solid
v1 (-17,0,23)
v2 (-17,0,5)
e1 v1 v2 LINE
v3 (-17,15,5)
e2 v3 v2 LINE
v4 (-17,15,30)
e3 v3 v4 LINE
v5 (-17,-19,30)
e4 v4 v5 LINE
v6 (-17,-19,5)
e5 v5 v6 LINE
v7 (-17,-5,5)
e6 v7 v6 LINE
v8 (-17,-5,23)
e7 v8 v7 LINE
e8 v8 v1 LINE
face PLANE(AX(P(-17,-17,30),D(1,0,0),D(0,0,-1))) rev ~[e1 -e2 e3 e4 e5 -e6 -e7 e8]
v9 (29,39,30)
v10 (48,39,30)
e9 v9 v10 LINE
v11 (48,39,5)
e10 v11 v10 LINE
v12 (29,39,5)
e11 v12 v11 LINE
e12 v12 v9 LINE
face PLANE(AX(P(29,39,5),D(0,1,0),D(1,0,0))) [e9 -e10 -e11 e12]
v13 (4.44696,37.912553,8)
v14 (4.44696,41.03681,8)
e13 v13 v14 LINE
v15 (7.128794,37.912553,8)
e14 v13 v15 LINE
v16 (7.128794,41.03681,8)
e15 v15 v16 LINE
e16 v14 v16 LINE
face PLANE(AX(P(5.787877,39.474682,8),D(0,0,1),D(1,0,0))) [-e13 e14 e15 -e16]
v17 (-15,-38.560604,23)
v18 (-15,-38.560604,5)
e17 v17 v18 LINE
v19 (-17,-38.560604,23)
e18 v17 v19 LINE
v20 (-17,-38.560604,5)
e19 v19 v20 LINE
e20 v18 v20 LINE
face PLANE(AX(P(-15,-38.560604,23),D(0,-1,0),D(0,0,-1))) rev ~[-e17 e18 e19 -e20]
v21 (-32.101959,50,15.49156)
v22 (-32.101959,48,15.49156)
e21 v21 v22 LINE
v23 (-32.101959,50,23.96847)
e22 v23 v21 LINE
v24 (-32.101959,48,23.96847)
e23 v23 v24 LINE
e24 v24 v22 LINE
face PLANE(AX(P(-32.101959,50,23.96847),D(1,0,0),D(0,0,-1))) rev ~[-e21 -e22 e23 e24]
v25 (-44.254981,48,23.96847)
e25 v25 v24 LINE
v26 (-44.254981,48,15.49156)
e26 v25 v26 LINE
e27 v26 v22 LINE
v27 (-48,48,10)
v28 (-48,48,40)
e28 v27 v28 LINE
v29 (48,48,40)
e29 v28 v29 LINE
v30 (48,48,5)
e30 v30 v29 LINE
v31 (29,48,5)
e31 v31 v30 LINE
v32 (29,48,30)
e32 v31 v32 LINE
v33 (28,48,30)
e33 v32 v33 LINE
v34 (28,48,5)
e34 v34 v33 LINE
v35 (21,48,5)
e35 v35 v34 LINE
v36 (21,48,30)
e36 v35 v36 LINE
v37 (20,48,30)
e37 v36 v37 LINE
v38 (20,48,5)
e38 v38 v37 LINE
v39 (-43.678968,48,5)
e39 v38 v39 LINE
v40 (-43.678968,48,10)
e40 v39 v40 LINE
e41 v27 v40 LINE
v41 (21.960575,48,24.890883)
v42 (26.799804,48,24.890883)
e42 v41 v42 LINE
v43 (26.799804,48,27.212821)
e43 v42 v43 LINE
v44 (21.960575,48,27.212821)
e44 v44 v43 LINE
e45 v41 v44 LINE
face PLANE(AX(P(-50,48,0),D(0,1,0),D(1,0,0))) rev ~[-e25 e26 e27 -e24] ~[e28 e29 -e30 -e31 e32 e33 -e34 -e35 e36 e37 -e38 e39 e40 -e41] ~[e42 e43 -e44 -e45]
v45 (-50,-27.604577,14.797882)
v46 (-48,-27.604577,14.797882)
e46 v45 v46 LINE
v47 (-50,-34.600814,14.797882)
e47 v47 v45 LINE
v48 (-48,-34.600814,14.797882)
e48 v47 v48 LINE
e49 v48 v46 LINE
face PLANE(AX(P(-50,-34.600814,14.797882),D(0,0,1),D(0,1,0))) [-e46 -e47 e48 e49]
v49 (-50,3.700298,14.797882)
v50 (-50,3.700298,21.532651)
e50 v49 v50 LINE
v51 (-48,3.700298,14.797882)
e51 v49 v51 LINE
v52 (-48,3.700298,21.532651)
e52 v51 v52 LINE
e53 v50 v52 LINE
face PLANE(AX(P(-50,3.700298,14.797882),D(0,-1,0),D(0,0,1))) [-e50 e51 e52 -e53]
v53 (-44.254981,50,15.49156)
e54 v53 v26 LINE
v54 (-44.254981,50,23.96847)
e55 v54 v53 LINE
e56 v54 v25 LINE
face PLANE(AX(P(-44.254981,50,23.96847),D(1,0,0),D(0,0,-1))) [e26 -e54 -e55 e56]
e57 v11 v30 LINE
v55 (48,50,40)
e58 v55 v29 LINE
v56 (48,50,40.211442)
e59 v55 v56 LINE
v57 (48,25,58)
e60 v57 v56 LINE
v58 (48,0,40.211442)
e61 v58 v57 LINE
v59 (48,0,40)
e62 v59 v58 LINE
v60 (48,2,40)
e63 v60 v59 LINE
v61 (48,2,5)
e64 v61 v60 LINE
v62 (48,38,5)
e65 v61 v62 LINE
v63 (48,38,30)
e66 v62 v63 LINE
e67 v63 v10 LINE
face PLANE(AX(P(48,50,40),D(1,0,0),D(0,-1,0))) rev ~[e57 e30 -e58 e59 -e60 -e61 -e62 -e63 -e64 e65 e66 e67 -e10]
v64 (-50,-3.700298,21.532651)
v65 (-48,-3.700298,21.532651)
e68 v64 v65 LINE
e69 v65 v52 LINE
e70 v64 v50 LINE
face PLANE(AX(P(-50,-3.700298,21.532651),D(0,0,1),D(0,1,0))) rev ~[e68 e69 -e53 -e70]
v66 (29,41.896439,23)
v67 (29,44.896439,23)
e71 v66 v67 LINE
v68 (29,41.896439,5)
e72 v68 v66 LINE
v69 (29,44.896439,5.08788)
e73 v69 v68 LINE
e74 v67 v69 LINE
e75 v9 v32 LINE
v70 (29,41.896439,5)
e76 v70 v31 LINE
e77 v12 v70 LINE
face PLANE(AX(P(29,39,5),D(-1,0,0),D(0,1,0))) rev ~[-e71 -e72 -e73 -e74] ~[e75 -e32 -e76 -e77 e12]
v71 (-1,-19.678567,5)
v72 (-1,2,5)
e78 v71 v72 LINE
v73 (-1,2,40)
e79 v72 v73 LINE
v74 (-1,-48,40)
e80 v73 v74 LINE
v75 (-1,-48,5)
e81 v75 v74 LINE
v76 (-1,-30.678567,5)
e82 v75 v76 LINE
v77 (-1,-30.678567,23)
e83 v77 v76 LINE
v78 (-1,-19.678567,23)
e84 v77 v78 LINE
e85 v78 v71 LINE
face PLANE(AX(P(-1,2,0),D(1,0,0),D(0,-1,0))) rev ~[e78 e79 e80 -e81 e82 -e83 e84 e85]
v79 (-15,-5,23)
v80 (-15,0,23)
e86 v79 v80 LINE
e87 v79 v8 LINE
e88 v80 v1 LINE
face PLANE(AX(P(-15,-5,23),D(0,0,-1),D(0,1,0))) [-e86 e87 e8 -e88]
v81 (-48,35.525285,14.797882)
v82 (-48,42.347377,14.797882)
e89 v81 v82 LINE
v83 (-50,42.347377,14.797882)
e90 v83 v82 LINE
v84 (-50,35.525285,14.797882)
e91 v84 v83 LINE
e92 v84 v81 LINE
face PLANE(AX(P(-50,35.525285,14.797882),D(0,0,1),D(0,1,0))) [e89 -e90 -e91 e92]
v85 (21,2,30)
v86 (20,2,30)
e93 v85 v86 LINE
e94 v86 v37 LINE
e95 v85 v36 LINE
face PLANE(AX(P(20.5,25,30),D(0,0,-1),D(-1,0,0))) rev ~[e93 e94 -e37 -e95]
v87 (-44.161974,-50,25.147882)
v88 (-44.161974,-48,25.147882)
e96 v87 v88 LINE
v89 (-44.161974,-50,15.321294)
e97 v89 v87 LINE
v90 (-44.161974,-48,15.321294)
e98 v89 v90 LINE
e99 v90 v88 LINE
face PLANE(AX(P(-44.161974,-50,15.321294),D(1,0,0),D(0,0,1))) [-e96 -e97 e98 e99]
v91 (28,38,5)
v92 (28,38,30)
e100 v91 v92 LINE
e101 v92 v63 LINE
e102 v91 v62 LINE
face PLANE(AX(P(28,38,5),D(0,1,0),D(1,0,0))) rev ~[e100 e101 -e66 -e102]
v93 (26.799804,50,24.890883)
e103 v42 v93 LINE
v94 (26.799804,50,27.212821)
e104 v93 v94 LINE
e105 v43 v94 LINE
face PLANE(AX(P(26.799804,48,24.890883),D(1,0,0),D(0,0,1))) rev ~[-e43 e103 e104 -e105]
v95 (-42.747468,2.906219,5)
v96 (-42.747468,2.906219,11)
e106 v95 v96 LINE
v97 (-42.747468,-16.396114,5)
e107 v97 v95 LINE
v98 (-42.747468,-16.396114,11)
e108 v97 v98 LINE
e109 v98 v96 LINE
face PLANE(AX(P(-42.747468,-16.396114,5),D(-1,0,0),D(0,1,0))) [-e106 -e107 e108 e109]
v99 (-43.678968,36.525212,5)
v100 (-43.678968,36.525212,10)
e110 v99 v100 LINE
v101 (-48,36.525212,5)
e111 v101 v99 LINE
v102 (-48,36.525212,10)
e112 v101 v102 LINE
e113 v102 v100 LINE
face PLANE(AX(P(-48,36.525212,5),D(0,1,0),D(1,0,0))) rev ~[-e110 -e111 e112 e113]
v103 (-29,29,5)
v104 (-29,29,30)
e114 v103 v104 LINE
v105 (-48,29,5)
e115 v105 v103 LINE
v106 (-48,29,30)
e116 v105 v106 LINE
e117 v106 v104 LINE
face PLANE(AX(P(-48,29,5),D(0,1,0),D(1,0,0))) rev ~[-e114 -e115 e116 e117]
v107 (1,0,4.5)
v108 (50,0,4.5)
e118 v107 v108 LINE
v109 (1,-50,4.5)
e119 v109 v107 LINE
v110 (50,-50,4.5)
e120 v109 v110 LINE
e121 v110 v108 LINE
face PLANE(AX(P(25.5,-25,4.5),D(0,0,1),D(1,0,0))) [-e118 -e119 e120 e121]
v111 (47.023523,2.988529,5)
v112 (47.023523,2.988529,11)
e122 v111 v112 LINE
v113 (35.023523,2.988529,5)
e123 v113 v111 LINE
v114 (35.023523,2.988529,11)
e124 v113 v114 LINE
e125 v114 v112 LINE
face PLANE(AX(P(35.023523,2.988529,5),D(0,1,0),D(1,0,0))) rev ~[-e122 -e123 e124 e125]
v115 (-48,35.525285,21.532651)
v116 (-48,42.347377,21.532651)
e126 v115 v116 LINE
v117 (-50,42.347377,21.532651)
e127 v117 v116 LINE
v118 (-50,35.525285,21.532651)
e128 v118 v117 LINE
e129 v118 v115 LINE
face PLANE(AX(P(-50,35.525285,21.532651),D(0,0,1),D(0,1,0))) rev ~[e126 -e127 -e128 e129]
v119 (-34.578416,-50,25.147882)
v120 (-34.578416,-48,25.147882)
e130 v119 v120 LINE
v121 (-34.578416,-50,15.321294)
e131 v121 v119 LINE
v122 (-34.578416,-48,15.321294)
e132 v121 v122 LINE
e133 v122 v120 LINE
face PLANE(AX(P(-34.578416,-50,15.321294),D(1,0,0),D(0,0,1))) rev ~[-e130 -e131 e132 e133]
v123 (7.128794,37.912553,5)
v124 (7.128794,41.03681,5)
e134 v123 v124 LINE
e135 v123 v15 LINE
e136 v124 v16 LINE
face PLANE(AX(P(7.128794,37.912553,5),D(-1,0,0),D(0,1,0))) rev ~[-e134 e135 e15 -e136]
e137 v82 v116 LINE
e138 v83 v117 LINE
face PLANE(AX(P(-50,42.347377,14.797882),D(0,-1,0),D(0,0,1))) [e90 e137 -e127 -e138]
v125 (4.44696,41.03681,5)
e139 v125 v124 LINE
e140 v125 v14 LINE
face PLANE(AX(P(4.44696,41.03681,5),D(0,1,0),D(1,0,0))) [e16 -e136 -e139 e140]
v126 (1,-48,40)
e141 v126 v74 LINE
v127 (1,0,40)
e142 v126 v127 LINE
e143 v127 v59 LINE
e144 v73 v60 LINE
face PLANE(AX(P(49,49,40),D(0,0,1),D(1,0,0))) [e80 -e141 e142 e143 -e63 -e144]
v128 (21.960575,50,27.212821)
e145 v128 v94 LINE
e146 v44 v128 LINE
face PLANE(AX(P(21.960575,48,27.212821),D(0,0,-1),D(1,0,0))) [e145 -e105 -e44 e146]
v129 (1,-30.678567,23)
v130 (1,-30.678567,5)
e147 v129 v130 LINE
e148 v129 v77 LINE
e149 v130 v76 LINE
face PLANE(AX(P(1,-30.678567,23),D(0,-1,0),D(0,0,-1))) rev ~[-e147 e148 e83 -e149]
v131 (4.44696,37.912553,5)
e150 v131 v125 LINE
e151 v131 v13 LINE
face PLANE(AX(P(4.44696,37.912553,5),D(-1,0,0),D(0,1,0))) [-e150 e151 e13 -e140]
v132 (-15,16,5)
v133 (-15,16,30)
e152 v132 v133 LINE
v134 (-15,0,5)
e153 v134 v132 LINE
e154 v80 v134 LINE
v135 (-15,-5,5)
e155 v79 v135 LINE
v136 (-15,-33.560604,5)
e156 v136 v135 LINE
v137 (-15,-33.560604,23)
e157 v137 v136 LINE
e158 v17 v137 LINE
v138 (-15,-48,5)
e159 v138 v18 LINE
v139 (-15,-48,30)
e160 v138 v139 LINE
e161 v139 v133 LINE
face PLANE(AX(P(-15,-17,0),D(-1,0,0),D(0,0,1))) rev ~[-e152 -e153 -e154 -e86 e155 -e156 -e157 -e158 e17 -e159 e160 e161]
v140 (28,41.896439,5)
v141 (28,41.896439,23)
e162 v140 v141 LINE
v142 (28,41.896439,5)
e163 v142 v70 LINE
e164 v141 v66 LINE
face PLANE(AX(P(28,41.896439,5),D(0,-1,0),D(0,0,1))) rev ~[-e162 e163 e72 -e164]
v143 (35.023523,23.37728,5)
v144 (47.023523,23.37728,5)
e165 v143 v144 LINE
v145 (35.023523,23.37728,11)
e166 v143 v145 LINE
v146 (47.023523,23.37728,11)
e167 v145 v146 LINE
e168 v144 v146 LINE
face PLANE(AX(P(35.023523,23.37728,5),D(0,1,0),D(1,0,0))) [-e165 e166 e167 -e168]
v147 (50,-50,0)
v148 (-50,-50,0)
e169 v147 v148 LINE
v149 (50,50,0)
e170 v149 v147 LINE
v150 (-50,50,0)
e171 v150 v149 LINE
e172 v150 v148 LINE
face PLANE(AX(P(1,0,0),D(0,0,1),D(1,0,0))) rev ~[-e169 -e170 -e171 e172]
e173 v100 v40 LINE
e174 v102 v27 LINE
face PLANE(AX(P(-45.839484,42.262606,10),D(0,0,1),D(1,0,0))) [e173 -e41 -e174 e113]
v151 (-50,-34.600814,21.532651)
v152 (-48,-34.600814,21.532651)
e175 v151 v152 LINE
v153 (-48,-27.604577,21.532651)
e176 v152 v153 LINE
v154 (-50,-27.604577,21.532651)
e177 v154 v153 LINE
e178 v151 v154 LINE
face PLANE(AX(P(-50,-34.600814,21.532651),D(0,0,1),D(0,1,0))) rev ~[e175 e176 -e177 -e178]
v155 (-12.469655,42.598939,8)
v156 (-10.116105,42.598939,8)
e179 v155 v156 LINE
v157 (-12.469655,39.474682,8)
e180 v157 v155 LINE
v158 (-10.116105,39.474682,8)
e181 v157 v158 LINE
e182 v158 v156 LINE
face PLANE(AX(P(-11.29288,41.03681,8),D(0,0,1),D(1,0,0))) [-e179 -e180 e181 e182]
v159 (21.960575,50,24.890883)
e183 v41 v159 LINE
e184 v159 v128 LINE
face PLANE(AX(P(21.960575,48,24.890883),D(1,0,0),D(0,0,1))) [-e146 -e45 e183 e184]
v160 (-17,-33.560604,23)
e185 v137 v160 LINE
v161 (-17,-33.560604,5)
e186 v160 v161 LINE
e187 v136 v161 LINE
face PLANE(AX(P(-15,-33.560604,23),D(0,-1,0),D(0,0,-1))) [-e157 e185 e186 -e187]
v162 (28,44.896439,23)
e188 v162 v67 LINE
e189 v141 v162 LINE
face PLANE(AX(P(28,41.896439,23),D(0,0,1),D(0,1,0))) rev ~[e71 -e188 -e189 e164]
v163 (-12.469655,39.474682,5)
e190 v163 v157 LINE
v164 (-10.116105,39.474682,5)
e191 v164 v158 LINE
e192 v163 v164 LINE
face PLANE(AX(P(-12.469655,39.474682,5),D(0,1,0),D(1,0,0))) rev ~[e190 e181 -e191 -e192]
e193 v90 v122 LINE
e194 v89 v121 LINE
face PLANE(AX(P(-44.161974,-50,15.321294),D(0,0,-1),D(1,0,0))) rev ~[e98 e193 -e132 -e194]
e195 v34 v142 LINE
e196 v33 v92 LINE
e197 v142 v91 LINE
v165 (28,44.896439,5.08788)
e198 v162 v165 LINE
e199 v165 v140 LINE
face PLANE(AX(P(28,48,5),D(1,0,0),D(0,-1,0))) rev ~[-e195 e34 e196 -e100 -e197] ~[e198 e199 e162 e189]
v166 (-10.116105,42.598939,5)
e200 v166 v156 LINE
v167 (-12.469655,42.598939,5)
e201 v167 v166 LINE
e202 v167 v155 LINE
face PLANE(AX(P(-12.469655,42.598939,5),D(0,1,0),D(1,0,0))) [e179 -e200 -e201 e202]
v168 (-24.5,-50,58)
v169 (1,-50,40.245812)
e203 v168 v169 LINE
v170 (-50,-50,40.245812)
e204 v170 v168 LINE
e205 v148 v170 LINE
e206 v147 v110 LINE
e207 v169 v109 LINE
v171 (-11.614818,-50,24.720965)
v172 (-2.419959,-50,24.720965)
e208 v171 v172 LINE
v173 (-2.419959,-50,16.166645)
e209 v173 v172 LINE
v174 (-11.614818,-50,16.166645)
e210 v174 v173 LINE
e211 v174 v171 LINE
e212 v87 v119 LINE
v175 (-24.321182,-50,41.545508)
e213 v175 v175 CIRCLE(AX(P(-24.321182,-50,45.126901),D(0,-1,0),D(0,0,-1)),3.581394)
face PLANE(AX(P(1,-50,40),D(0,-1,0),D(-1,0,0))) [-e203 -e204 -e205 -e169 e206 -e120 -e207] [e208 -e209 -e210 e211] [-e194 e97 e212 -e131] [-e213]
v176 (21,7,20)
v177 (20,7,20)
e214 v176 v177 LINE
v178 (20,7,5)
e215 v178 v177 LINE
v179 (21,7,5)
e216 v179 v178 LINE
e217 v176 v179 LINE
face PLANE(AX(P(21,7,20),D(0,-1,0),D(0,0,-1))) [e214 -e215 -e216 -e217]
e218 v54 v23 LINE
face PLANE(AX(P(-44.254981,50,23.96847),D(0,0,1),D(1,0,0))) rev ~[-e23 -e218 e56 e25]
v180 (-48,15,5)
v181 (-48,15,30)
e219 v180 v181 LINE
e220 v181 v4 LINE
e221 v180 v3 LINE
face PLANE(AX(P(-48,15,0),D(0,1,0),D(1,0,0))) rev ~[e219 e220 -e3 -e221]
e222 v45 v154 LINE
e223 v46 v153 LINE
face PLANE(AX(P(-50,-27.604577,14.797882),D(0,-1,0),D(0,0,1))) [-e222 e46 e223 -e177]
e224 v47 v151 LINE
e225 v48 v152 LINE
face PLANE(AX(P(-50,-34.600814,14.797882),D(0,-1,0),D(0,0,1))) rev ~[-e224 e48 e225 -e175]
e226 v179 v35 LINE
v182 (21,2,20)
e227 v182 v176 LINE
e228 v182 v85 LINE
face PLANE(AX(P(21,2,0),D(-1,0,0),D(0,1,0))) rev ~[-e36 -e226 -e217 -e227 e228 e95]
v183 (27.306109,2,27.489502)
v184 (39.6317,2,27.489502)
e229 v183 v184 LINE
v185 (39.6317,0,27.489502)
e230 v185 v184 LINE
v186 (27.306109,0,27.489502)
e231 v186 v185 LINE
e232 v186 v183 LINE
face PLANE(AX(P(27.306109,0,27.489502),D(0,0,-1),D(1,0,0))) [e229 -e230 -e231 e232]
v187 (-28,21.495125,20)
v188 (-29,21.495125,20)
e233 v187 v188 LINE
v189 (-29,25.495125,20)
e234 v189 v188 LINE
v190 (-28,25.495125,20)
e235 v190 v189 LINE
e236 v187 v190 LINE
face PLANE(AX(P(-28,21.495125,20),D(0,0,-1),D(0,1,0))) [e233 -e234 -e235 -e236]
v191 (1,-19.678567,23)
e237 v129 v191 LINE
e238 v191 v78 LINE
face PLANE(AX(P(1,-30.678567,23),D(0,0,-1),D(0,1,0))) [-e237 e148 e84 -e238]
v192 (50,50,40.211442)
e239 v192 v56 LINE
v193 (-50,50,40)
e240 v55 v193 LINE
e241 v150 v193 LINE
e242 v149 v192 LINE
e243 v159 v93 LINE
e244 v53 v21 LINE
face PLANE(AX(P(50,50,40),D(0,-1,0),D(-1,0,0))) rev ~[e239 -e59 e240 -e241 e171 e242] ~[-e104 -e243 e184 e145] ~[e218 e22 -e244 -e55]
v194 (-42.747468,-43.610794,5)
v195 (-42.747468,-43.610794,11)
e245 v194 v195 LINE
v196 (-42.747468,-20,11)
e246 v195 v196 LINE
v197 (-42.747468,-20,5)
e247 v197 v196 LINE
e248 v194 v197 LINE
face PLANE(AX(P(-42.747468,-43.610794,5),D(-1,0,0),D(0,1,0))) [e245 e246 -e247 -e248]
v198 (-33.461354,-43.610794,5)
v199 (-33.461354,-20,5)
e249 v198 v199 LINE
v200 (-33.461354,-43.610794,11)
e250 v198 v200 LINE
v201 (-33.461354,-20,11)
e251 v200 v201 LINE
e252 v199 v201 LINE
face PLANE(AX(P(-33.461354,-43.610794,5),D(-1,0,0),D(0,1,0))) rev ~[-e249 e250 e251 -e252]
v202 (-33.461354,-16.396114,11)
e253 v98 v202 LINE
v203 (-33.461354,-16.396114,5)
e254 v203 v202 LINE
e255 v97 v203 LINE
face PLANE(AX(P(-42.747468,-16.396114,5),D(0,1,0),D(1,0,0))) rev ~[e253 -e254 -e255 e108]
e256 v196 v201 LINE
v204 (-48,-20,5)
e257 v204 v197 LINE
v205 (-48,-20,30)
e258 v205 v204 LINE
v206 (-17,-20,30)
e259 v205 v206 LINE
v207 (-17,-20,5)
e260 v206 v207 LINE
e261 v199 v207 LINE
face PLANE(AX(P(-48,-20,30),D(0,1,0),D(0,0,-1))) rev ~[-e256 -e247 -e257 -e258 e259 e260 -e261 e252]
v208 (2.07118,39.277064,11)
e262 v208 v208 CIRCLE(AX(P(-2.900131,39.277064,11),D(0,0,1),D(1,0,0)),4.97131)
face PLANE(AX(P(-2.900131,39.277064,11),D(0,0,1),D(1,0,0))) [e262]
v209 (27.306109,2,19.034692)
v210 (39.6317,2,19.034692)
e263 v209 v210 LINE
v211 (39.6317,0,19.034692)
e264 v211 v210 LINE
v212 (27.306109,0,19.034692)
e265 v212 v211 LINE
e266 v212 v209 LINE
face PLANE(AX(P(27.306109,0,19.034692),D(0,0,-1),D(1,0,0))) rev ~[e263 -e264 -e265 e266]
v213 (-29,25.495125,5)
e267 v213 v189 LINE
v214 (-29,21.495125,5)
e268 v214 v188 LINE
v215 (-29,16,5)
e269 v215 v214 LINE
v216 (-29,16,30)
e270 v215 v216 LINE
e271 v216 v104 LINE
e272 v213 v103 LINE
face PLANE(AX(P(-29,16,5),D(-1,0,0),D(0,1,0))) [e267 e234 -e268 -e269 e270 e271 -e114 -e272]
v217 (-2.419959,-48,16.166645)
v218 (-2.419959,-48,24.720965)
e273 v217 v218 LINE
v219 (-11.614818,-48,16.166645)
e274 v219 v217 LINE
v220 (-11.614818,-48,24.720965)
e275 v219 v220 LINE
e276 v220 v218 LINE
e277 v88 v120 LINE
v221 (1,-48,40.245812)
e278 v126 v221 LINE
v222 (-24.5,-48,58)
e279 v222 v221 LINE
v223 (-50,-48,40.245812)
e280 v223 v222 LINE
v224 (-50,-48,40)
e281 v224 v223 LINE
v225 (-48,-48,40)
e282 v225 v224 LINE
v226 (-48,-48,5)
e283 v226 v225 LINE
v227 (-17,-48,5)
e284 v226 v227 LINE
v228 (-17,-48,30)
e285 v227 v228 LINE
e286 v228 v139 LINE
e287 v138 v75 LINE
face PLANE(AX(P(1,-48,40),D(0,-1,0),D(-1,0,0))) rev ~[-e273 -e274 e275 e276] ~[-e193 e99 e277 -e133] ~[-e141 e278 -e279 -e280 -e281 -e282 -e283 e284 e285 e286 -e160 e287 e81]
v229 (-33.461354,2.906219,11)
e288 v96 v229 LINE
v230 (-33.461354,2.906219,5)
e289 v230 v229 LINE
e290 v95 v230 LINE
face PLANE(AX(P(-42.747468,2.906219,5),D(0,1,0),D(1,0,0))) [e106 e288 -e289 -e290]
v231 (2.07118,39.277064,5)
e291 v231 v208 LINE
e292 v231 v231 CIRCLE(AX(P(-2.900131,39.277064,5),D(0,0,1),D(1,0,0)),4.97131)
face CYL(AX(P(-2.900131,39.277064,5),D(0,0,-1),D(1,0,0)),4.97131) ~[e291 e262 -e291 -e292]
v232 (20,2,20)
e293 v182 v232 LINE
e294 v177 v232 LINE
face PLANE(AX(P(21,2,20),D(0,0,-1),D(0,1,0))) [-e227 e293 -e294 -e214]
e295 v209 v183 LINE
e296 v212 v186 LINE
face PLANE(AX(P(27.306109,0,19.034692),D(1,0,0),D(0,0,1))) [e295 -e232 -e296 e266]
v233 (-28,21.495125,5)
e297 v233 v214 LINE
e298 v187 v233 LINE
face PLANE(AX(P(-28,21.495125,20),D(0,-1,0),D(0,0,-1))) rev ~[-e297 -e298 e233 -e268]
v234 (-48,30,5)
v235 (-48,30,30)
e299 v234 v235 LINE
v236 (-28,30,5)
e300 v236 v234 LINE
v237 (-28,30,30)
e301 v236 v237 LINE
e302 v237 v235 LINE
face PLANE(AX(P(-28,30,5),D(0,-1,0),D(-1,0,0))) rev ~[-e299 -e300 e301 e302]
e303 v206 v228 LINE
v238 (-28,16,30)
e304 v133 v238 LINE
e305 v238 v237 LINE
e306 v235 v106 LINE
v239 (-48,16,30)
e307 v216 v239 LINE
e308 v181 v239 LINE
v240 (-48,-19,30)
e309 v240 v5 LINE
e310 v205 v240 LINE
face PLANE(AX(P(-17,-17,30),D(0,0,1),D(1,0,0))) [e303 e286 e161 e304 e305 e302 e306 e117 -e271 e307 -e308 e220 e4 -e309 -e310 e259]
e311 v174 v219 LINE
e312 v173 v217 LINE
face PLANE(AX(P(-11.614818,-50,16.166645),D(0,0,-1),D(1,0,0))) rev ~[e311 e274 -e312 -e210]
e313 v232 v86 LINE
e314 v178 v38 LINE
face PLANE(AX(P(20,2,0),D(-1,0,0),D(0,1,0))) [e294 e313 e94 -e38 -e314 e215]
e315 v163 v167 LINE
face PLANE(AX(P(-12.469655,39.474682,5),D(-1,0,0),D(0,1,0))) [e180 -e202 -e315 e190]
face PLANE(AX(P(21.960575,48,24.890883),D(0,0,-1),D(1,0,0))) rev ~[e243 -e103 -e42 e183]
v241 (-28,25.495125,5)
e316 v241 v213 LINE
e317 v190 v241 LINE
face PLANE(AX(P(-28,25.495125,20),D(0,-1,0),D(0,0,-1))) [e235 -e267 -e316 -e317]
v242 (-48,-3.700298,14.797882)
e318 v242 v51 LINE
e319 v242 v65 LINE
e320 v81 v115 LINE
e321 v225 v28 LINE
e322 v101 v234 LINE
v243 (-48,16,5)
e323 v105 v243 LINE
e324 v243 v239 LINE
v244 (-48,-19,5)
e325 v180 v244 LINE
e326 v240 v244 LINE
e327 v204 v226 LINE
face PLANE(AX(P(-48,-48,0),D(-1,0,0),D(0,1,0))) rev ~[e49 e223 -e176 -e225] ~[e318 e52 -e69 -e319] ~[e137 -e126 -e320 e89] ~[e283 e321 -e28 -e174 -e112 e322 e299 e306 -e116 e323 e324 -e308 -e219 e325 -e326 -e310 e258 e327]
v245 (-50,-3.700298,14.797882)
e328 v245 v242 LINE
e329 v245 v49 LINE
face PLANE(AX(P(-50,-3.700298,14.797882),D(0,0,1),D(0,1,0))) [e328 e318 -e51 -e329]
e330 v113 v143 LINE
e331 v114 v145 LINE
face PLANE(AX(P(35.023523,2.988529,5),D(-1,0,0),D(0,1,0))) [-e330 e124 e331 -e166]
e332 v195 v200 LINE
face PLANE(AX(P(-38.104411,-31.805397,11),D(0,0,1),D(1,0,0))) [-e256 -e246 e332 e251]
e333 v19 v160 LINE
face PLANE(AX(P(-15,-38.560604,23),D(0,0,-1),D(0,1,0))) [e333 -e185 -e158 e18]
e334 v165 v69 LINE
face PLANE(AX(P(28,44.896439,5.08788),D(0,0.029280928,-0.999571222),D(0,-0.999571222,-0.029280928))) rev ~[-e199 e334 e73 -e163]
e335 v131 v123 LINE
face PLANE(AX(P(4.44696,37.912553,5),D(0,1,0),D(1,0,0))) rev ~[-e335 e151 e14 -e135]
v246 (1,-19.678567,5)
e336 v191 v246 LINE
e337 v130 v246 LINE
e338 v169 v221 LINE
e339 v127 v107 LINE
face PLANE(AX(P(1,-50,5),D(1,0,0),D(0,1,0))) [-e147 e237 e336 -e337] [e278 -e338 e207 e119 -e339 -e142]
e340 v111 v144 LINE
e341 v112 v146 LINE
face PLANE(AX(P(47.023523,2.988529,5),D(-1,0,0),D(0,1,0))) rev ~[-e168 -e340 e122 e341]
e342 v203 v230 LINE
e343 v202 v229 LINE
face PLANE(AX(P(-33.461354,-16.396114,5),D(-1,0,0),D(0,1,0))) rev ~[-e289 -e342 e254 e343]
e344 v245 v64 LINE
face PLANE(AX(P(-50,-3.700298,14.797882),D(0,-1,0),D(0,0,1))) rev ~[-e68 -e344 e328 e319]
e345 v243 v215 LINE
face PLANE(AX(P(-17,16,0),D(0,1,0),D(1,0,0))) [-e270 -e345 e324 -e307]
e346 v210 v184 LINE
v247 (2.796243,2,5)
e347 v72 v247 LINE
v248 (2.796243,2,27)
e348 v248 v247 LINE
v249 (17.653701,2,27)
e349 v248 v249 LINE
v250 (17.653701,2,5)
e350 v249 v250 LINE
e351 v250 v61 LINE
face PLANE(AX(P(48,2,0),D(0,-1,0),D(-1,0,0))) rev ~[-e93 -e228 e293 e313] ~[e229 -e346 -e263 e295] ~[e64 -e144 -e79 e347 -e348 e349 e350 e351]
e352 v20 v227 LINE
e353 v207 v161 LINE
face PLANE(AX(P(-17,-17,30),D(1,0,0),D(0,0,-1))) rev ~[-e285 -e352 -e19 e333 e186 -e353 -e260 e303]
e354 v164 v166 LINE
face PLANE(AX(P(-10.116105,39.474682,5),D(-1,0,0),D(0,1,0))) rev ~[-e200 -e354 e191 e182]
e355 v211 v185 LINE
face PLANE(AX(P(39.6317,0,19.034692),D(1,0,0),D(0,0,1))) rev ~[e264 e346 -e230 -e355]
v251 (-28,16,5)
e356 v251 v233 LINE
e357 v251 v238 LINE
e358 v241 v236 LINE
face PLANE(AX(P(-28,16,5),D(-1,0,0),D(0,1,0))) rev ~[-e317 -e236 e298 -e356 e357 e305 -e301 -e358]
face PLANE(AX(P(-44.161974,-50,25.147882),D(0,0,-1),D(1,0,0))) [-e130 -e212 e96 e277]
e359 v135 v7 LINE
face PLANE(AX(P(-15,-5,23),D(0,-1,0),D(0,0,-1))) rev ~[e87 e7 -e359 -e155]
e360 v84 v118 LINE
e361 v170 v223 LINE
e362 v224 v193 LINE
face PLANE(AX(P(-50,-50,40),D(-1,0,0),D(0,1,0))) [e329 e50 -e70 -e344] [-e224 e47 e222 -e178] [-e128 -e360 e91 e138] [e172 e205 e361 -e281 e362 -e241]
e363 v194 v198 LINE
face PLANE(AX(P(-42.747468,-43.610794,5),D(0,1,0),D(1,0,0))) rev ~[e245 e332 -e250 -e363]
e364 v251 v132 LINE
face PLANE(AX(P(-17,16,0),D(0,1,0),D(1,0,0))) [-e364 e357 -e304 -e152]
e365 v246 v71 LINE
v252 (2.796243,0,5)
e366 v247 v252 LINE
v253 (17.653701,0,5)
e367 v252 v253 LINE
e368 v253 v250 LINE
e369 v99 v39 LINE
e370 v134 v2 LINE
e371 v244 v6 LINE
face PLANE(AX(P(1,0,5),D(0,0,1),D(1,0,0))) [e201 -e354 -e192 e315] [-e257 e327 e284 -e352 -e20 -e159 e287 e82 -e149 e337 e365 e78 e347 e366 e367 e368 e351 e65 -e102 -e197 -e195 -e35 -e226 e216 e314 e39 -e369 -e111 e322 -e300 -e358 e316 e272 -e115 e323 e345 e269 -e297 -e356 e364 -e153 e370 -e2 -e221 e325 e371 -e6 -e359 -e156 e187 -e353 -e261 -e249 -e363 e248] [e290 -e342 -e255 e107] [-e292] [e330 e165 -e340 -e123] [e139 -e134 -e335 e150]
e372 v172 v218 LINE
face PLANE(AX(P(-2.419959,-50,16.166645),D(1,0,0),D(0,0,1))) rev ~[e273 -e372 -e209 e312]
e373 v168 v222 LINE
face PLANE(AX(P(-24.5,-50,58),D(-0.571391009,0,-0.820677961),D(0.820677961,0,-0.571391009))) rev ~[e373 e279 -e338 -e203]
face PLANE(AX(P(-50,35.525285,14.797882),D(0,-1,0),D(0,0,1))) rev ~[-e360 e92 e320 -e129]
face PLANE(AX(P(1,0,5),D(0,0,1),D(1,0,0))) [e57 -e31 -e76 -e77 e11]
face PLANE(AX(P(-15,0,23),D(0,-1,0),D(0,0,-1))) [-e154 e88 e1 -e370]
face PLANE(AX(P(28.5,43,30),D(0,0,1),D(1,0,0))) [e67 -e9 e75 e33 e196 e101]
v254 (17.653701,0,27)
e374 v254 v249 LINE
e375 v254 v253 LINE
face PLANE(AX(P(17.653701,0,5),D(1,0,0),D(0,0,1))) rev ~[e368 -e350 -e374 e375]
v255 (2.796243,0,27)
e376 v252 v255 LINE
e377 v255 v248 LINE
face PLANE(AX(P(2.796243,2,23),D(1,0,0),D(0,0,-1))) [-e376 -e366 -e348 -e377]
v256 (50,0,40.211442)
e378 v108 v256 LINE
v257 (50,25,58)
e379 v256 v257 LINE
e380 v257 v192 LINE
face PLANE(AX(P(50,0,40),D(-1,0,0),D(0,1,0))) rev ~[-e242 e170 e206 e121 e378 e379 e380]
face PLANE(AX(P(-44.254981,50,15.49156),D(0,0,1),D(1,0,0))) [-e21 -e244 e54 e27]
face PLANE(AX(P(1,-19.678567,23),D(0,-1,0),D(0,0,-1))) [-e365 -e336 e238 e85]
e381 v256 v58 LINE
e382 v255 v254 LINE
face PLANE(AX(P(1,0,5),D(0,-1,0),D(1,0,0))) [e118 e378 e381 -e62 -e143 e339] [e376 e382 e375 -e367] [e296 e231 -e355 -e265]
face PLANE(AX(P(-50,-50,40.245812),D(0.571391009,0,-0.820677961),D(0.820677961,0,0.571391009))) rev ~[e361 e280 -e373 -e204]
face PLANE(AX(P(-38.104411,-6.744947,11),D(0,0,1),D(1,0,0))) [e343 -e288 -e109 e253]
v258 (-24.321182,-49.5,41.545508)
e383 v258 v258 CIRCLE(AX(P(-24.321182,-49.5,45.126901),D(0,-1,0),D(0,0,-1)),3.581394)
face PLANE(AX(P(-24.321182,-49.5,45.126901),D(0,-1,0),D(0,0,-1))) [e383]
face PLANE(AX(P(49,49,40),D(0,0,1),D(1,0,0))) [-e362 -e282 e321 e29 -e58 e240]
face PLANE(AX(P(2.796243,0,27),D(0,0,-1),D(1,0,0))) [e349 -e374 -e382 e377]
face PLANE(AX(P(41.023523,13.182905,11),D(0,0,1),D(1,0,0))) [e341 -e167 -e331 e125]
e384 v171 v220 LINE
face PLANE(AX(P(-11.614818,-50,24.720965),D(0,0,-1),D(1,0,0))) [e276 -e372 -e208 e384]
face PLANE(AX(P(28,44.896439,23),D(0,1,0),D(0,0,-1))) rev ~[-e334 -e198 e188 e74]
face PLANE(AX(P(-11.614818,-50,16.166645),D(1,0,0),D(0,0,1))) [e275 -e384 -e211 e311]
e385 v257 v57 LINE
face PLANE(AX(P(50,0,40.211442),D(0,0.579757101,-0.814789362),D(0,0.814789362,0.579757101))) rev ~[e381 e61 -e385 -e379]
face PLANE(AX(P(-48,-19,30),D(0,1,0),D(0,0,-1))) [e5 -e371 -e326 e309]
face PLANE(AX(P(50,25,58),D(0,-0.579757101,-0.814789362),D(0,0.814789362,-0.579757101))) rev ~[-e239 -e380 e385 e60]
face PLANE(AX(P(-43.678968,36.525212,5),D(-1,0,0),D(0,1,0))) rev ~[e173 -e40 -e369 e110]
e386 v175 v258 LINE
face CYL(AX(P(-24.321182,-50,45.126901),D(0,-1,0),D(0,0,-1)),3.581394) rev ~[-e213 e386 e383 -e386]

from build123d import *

# Parameters (mm, degrees)
BOSS_EXTRUDE1_DEPTH  = 40
SKETCH1_19_W         = 2
SKETCH1_19_H         = 96
BOSS_EXTRUDE3_DEPTH  = 40
SKETCH1_20_W         = 98
SKETCH1_20_H         = 2
BOSS_EXTRUDE4_DEPTH  = 40
BOSS_EXTRUDE5_DEPTH  = 40
SKETCH1_23_W         = 31
SKETCH1_23_H         = 1
BOSS_EXTRUDE6_DEPTH  = 30
SKETCH1_28_W         = 2
SKETCH1_28_H         = 33
SKETCH1_28_H_2       = 30
BOSS_EXTRUDE7_DEPTH  = 30
SKETCH1_31_W         = 27
SKETCH1_31_H         = 46
SKETCH1_31_W_2       = 31
SKETCH1_31_H_2       = 32
SKETCH1_31_H_3       = 30
BOSS_EXTRUDE9_DEPTH  = 5
SKETCH5_W            = 31
SKETCH5_H            = 1
BOSS_EXTRUDE10_DEPTH = 5
BOSS_EXTRUDE15_DEPTH = 5
SKETCH8_W            = 25
SKETCH8_H            = 1
BOSS_EXTRUDE16_DEPTH = 31
SKETCH9_W            = 1
SKETCH9_H            = 46
BOSS_EXTRUDE17_DEPTH = 30
BOSS_EXTRUDE18_DEPTH = 25
SKETCH11_W           = 18
SKETCH11_H           = 5
CUT_EXTRUDE1_DEPTH   = 25
SKETCH12_W           = 15
SKETCH12_H           = 4
CUT_EXTRUDE2_DEPTH   = 17
SKETCH13_W           = 15
SKETCH13_H           = 5
CUT_EXTRUDE3_DEPTH   = 17
SKETCH15_W           = 11
SKETCH15_H           = 18
CUT_EXTRUDE7_DEPTH   = 22
SKETCH17_W           = 49
SKETCH17_H           = 5
BOSS_EXTRUDE20_DEPTH = 50
SKETCH23_W           = 18
SKETCH23_H           = 11
CUT_EXTRUDE10_DEPTH  = 6
SKETCH24_W           = 3.857458034
SKETCH24_H           = 18
CUT_EXTRUDE11_DEPTH  = 6
SKETCH25_W           = 14.857458034
SKETCH25_H           = 4
CUT_EXTRUDE12_DEPTH  = 6
SKETCH26_W           = 12.325590262
SKETCH26_H           = 8.454809573
CUT_EXTRUDE13_DEPTH  = 6
SKETCH29_W           = 6.734769559
SKETCH29_H           = 7.400595738
SKETCH29_H_2         = 6.996236091
SKETCH29_H_3         = 6.822092061
CUT_EXTRUDE18_DEPTH  = 6
SKETCH30_W           = 9.583557861
SKETCH30_H           = 9.826587516
CUT_EXTRUDE19_DEPTH  = 6
SKETCH32_W           = 9.286114252
SKETCH32_H           = 19.302332314
SKETCH32_H_2         = 23.610794175
BOSS_EXTRUDE23_DEPTH = 6
SKETCH34_R           = 4.971310263
BOSS_EXTRUDE25_DEPTH = 6
SKETCH35_W           = 2.681833229
SKETCH35_H           = 3.124257682
SKETCH35_W_2         = 2.353550061
SKETCH35_H_2         = 3.124257683
BOSS_EXTRUDE26_DEPTH = 3
SKETCH36_W           = 9.194859164
SKETCH36_H           = 8.554319738
CUT_EXTRUDE20_DEPTH  = 13
BOSS_EXTRUDE28_DEPTH = 18
CUT_EXTRUDE22_DEPTH  = 18
BOSS_EXTRUDE29_DEPTH = 18
CUT_EXTRUDE23_DEPTH  = 18
BOSS_EXTRUDE32_DEPTH = 25
CUT_EXTRUDE24_DEPTH  = 11
SKETCH50_W           = 12
SKETCH50_H           = 20.388751342
BOSS_EXTRUDE34_DEPTH = 6
SKETCH53_W           = 4.839229205
SKETCH53_H           = 2.321938391
CUT_EXTRUDE28_DEPTH  = 6
SKETCH54_W           = 12.153021564
SKETCH54_H           = 8.476910648
CUT_EXTRUDE29_DEPTH  = 6
SKETCH55_W           = 4.321031563
SKETCH55_H           = 11.474788053
BOSS_EXTRUDE36_DEPTH = 5
SKETCH56_R           = 3.581393844
CUT_EXTRUDE30_DEPTH  = 0.5
SKETCH57_W           = 49
SKETCH57_H           = 50
CUT_EXTRUDE31_DEPTH  = 0.5


with BuildPart() as part:
    # Sketch1 → Boss-Extrude1 (new body)
    with BuildSketch(Plane.XY):
        Polygon((1, -50), (1, 2), (-1, 2), (-1, -48), (-50, -48), (-50, -50), align=None)
    extrude(amount=BOSS_EXTRUDE1_DEPTH)

    # Sketch1<19> → Boss-Extrude3 (add)
    with BuildSketch(Plane.XY):
        with Locations((-49, 0)):
            Rectangle(SKETCH1_19_W, SKETCH1_19_H)
    extrude(amount=BOSS_EXTRUDE3_DEPTH)

    # Sketch1<20> → Boss-Extrude4 (add)
    with BuildSketch(Plane.XY):
        with Locations((-1, 49)):
            Rectangle(SKETCH1_20_W, SKETCH1_20_H)
    extrude(amount=BOSS_EXTRUDE4_DEPTH)

    # Sketch1<21> → Boss-Extrude5 (add)
    with BuildSketch(Plane.XY):
        Polygon((50, 50), (48, 50), (48, 2), (1, 2), (1, 0), (50, 0), align=None)
    extrude(amount=BOSS_EXTRUDE5_DEPTH)

    # Sketch1<23> → Boss-Extrude6 (add)
    with BuildSketch(Plane.XY):
        with Locations((-32.5, 15.5)):
            Rectangle(SKETCH1_23_W, SKETCH1_23_H)
    extrude(amount=BOSS_EXTRUDE6_DEPTH)

    # Sketch1<28> → Boss-Extrude7 (add)
    with BuildSketch(Plane.XY):
        with Locations((-16, -0.5)):
            Rectangle(SKETCH1_28_W, SKETCH1_28_H)
        with Locations((-16, -33)):
            Rectangle(SKETCH1_28_W, SKETCH1_28_H_2)
    extrude(amount=BOSS_EXTRUDE7_DEPTH)

    # Sketch1<31> → Boss-Extrude9 (add)
    with BuildSketch(Plane.XY):
        with Locations((34.5, 25)):
            Rectangle(SKETCH1_31_W, SKETCH1_31_H)
        Polygon((20, 2), (20, 48), (-48, 48), (-48, 16), (-15, 16), (-15, -48), (-1, -48), (-1, 2), align=None)
        with Locations((-32.5, -1)):
            Rectangle(SKETCH1_31_W_2, SKETCH1_31_H_2)
        with Locations((-32.5, -33)):
            Rectangle(SKETCH1_31_W_2, SKETCH1_31_H_3)
    extrude(amount=BOSS_EXTRUDE9_DEPTH)

    # Sketch5 → Boss-Extrude10 (add)
    with BuildSketch(Plane.XY.offset(5)):
        with Locations((-32.5, -17.5)):
            Rectangle(SKETCH5_W, SKETCH5_H)
    extrude(amount=-BOSS_EXTRUDE10_DEPTH)

    # Sketch7 → Boss-Extrude15 (add)
    with BuildSketch(Plane.XZ.offset(17)):
        Polygon((-17, 30), (-15, 30), (-15, 5), (-15, 0), (-17, 0), (-17, 5), align=None)
    extrude(amount=BOSS_EXTRUDE15_DEPTH)

    # Sketch8 → Boss-Extrude16 (add)
    with BuildSketch(Plane(origin=(-48, 0, 0), x_dir=(0, 0, -1), z_dir=(1, 0, 0))):
        with Locations((-17.5, -19.5)):
            Rectangle(SKETCH8_W, SKETCH8_H)
    extrude(amount=BOSS_EXTRUDE16_DEPTH)

    # Sketch9 → Boss-Extrude17 (add)
    with BuildSketch(Plane(origin=(0, 0, 0), x_dir=(-1, 0, 0), z_dir=(0, 0, -1))):
        with Locations((-20.5, 25)):
            Rectangle(SKETCH9_W, SKETCH9_H)
    extrude(amount=-BOSS_EXTRUDE17_DEPTH)

    # Sketch10 → Boss-Extrude18 (add)
    with BuildSketch(Plane.XY.offset(5)):
        Polygon((-29, 29), (-29, 16), (-28, 16), (-28, 30), (-48, 30), (-48, 29), align=None)
    extrude(amount=BOSS_EXTRUDE18_DEPTH)

    # Sketch11 → Cut-Extrude1 (cut)
    with BuildSketch(Plane(origin=(-15, 0, 0), x_dir=(0, 0, -1), z_dir=(1, 0, 0))):
        with Locations((-14, -36.060604297)):
            Rectangle(SKETCH11_W, SKETCH11_H)
        with Locations((-14, -2.5)):
            Rectangle(SKETCH11_W, SKETCH11_H)
    extrude(amount=-CUT_EXTRUDE1_DEPTH, mode=Mode.SUBTRACT)

    # Sketch12 → Cut-Extrude2 (cut)
    with BuildSketch(Plane(origin=(-28, 0, 0), x_dir=(0, 0, -1), z_dir=(1, 0, 0))):
        with Locations((-12.5, 23.495124875)):
            Rectangle(SKETCH12_W, SKETCH12_H)
    extrude(amount=-CUT_EXTRUDE2_DEPTH, mode=Mode.SUBTRACT)

    # Sketch13 → Cut-Extrude3 (cut)
    with BuildSketch(Plane(origin=(21, 0, 0), x_dir=(0, 0, -1), z_dir=(1, 0, 0))):
        with Locations((-12.5, 4.5)):
            Rectangle(SKETCH13_W, SKETCH13_H)
    extrude(amount=-CUT_EXTRUDE3_DEPTH, mode=Mode.SUBTRACT)

    # Sketch15 → Cut-Extrude7 (cut)
    with BuildSketch(Plane(origin=(0, 2, 0), x_dir=(1, 0, 0), z_dir=(0, 1, 0))):
        with Locations((8.296242954, -14)):
            Rectangle(SKETCH15_W, SKETCH15_H)
    extrude(amount=-CUT_EXTRUDE7_DEPTH, mode=Mode.SUBTRACT)

    # Sketch17 → Boss-Extrude20 (add)
    with BuildSketch(Plane.XZ):
        with Locations((25.5, 2.5)):
            Rectangle(SKETCH17_W, SKETCH17_H)
    extrude(amount=BOSS_EXTRUDE20_DEPTH)

    # Sketch23 → Cut-Extrude10 (cut)
    with BuildSketch(Plane(origin=(1, 0, 0), x_dir=(0, 0, -1), z_dir=(1, 0, 0))):
        with Locations((-14, -25.178566895)):
            Rectangle(SKETCH23_W, SKETCH23_H)
    extrude(amount=-CUT_EXTRUDE10_DEPTH, mode=Mode.SUBTRACT)

    # Sketch24 → Cut-Extrude11 (cut)
    with BuildSketch(Plane.XZ):
        with Locations((15.724971971, 14)):
            Rectangle(SKETCH24_W, SKETCH24_H)
    extrude(amount=-CUT_EXTRUDE11_DEPTH, mode=Mode.SUBTRACT)

    # Sketch25 → Cut-Extrude12 (cut)
    with BuildSketch(Plane.XZ):
        with Locations((10.224971971, 25)):
            Rectangle(SKETCH25_W, SKETCH25_H)
    extrude(amount=-CUT_EXTRUDE12_DEPTH, mode=Mode.SUBTRACT)

    # Sketch26 → Cut-Extrude13 (cut)
    with BuildSketch(Plane.XZ):
        with Locations((33.468904558, 23.262096897)):
            Rectangle(SKETCH26_W, SKETCH26_H)
    extrude(amount=-CUT_EXTRUDE13_DEPTH, mode=Mode.SUBTRACT)

    # Sketch29 → Cut-Extrude18 (cut)
    with BuildSketch(Plane.ZY.offset(50)):
        with Locations((18.165266651, 0)):
            Rectangle(SKETCH29_W, SKETCH29_H)
        with Locations((18.165266651, -31.10269552)):
            Rectangle(SKETCH29_W, SKETCH29_H_2)
        with Locations((18.165266651, 38.936331186)):
            Rectangle(SKETCH29_W, SKETCH29_H_3)
    extrude(amount=-CUT_EXTRUDE18_DEPTH, mode=Mode.SUBTRACT)

    # Sketch30 → Cut-Extrude19 (cut)
    with BuildSketch(Plane.XZ.offset(50)):
        with Locations((-39.37019483, 20.234587946)):
            Rectangle(SKETCH30_W, SKETCH30_H)
    extrude(amount=-CUT_EXTRUDE19_DEPTH, mode=Mode.SUBTRACT)

    # Sketch32 → Boss-Extrude23 (add)
    with BuildSketch(Plane.XY.offset(5)):
        with Locations((-38.104411192, -6.744947462)):
            Rectangle(SKETCH32_W, SKETCH32_H)
        with Locations((-38.104411192, -31.805397088)):
            Rectangle(SKETCH32_W, SKETCH32_H_2)
    extrude(amount=BOSS_EXTRUDE23_DEPTH)

    # Sketch34 → Boss-Extrude25 (add)
    with BuildSketch(Plane.XY.offset(5)):
        with Locations((-2.900130758, 39.277063679)):
            Circle(SKETCH34_R)
    extrude(amount=BOSS_EXTRUDE25_DEPTH)

    # Sketch35 → Boss-Extrude26 (add)
    with BuildSketch(Plane.XY.offset(5)):
        with Locations((5.787877094, 39.474681542)):
            Rectangle(SKETCH35_W, SKETCH35_H)
        with Locations((-11.292879581, 41.036810383)):
            Rectangle(SKETCH35_W_2, SKETCH35_H_2)
    extrude(amount=BOSS_EXTRUDE26_DEPTH)

    # Sketch36 → Cut-Extrude20 (cut)
    with BuildSketch(Plane.XZ.offset(50)):
        with Locations((-7.017388344, 20.443804938)):
            Rectangle(SKETCH36_W, SKETCH36_H)
    extrude(amount=-CUT_EXTRUDE20_DEPTH, mode=Mode.SUBTRACT)

    # Sketch40 → Boss-Extrude28 (add)
    with BuildSketch(Plane.XY.offset(40)):
        Polygon((48, 48), (48, 2), (48, 0), (50, 0), (50, 50), (48, 50), align=None)
    extrude(amount=BOSS_EXTRUDE28_DEPTH)

    # Sketch41 → Cut-Extrude22 (cut)
    with BuildSketch(Plane(origin=(50, 0, 0), x_dir=(0, 0, -1), z_dir=(1, 0, 0))):
        Polygon((-40.211442362, 50), (-58, 50), (-58, 25), align=None)
        Polygon((-40.211442362, 0), (-58, 25), (-58, 0), align=None)
    extrude(amount=-CUT_EXTRUDE22_DEPTH, mode=Mode.SUBTRACT)

    # Sketch42 → Boss-Extrude29 (add)
    with BuildSketch(Plane.XY.offset(40)):
        Polygon((-1, -48), (1, -48), (1, -50), (-50, -50), (-50, -48), (-48, -48), align=None)
    extrude(amount=BOSS_EXTRUDE29_DEPTH)

    # Sketch43 → Cut-Extrude23 (cut)
    with BuildSketch(Plane.XZ.offset(50)):
        Polygon((-50, 40.245812099), (-24.5, 58), (-50, 58), align=None)
        Polygon((1, 58), (-24.5, 58), (1, 40.245812099), align=None)
    extrude(amount=-CUT_EXTRUDE23_DEPTH, mode=Mode.SUBTRACT)

    # Sketch47 → Boss-Extrude32 (add)
    with BuildSketch(Plane.XY.offset(5)):
        Polygon((48, 38), (48, 39), (29, 39), (29, 48), (28, 48), (28, 38), align=None)
    extrude(amount=BOSS_EXTRUDE32_DEPTH)

    # Sketch48 → Cut-Extrude24 (cut)
    with BuildSketch(Plane.ZY.offset(-28)):
        Polygon((5, 41.896438564), (23, 41.896438564), (23, 44.896438564), (5.087880464, 44.896438564), align=None)
    extrude(amount=-CUT_EXTRUDE24_DEPTH, mode=Mode.SUBTRACT)

    # Sketch50 → Boss-Extrude34 (add)
    with BuildSketch(Plane.XY.offset(5)):
        with Locations((41.023523207, 13.182904819)):
            Rectangle(SKETCH50_W, SKETCH50_H)
    extrude(amount=BOSS_EXTRUDE34_DEPTH)

    # Sketch53 → Cut-Extrude28 (cut)
    with BuildSketch(Plane.XZ.offset(-48)):
        with Locations((24.380189742, 26.051851939)):
            Rectangle(SKETCH53_W, SKETCH53_H)
    extrude(amount=-CUT_EXTRUDE28_DEPTH, mode=Mode.SUBTRACT)

    # Sketch54 → Cut-Extrude29 (cut)
    with BuildSketch(Plane(origin=(0, 50, 0), x_dir=(1, 0, 0), z_dir=(0, 1, 0))):
        with Locations((-38.178470098, -19.730015028)):
            Rectangle(SKETCH54_W, SKETCH54_H)
    extrude(amount=-CUT_EXTRUDE29_DEPTH, mode=Mode.SUBTRACT)

    # Sketch55 → Boss-Extrude36 (add)
    with BuildSketch(Plane.XY.offset(5)):
        with Locations((-45.839484219, 42.262605974)):
            Rectangle(SKETCH55_W, SKETCH55_H)
    extrude(amount=BOSS_EXTRUDE36_DEPTH)

    # Sketch56 → Cut-Extrude30 (cut)
    with BuildSketch(Plane.XZ.offset(50)):
        with Locations((-24.321182171, 45.126901368)):
            Circle(SKETCH56_R)
    extrude(amount=-CUT_EXTRUDE30_DEPTH, mode=Mode.SUBTRACT)

    # Sketch57 → Cut-Extrude31 (cut)
    with BuildSketch(Plane.XY.offset(5)):
        with Locations((25.5, -25)):
            Rectangle(SKETCH57_W, SKETCH57_H)
    extrude(amount=-CUT_EXTRUDE31_DEPTH, mode=Mode.SUBTRACT)


solid = part.part
